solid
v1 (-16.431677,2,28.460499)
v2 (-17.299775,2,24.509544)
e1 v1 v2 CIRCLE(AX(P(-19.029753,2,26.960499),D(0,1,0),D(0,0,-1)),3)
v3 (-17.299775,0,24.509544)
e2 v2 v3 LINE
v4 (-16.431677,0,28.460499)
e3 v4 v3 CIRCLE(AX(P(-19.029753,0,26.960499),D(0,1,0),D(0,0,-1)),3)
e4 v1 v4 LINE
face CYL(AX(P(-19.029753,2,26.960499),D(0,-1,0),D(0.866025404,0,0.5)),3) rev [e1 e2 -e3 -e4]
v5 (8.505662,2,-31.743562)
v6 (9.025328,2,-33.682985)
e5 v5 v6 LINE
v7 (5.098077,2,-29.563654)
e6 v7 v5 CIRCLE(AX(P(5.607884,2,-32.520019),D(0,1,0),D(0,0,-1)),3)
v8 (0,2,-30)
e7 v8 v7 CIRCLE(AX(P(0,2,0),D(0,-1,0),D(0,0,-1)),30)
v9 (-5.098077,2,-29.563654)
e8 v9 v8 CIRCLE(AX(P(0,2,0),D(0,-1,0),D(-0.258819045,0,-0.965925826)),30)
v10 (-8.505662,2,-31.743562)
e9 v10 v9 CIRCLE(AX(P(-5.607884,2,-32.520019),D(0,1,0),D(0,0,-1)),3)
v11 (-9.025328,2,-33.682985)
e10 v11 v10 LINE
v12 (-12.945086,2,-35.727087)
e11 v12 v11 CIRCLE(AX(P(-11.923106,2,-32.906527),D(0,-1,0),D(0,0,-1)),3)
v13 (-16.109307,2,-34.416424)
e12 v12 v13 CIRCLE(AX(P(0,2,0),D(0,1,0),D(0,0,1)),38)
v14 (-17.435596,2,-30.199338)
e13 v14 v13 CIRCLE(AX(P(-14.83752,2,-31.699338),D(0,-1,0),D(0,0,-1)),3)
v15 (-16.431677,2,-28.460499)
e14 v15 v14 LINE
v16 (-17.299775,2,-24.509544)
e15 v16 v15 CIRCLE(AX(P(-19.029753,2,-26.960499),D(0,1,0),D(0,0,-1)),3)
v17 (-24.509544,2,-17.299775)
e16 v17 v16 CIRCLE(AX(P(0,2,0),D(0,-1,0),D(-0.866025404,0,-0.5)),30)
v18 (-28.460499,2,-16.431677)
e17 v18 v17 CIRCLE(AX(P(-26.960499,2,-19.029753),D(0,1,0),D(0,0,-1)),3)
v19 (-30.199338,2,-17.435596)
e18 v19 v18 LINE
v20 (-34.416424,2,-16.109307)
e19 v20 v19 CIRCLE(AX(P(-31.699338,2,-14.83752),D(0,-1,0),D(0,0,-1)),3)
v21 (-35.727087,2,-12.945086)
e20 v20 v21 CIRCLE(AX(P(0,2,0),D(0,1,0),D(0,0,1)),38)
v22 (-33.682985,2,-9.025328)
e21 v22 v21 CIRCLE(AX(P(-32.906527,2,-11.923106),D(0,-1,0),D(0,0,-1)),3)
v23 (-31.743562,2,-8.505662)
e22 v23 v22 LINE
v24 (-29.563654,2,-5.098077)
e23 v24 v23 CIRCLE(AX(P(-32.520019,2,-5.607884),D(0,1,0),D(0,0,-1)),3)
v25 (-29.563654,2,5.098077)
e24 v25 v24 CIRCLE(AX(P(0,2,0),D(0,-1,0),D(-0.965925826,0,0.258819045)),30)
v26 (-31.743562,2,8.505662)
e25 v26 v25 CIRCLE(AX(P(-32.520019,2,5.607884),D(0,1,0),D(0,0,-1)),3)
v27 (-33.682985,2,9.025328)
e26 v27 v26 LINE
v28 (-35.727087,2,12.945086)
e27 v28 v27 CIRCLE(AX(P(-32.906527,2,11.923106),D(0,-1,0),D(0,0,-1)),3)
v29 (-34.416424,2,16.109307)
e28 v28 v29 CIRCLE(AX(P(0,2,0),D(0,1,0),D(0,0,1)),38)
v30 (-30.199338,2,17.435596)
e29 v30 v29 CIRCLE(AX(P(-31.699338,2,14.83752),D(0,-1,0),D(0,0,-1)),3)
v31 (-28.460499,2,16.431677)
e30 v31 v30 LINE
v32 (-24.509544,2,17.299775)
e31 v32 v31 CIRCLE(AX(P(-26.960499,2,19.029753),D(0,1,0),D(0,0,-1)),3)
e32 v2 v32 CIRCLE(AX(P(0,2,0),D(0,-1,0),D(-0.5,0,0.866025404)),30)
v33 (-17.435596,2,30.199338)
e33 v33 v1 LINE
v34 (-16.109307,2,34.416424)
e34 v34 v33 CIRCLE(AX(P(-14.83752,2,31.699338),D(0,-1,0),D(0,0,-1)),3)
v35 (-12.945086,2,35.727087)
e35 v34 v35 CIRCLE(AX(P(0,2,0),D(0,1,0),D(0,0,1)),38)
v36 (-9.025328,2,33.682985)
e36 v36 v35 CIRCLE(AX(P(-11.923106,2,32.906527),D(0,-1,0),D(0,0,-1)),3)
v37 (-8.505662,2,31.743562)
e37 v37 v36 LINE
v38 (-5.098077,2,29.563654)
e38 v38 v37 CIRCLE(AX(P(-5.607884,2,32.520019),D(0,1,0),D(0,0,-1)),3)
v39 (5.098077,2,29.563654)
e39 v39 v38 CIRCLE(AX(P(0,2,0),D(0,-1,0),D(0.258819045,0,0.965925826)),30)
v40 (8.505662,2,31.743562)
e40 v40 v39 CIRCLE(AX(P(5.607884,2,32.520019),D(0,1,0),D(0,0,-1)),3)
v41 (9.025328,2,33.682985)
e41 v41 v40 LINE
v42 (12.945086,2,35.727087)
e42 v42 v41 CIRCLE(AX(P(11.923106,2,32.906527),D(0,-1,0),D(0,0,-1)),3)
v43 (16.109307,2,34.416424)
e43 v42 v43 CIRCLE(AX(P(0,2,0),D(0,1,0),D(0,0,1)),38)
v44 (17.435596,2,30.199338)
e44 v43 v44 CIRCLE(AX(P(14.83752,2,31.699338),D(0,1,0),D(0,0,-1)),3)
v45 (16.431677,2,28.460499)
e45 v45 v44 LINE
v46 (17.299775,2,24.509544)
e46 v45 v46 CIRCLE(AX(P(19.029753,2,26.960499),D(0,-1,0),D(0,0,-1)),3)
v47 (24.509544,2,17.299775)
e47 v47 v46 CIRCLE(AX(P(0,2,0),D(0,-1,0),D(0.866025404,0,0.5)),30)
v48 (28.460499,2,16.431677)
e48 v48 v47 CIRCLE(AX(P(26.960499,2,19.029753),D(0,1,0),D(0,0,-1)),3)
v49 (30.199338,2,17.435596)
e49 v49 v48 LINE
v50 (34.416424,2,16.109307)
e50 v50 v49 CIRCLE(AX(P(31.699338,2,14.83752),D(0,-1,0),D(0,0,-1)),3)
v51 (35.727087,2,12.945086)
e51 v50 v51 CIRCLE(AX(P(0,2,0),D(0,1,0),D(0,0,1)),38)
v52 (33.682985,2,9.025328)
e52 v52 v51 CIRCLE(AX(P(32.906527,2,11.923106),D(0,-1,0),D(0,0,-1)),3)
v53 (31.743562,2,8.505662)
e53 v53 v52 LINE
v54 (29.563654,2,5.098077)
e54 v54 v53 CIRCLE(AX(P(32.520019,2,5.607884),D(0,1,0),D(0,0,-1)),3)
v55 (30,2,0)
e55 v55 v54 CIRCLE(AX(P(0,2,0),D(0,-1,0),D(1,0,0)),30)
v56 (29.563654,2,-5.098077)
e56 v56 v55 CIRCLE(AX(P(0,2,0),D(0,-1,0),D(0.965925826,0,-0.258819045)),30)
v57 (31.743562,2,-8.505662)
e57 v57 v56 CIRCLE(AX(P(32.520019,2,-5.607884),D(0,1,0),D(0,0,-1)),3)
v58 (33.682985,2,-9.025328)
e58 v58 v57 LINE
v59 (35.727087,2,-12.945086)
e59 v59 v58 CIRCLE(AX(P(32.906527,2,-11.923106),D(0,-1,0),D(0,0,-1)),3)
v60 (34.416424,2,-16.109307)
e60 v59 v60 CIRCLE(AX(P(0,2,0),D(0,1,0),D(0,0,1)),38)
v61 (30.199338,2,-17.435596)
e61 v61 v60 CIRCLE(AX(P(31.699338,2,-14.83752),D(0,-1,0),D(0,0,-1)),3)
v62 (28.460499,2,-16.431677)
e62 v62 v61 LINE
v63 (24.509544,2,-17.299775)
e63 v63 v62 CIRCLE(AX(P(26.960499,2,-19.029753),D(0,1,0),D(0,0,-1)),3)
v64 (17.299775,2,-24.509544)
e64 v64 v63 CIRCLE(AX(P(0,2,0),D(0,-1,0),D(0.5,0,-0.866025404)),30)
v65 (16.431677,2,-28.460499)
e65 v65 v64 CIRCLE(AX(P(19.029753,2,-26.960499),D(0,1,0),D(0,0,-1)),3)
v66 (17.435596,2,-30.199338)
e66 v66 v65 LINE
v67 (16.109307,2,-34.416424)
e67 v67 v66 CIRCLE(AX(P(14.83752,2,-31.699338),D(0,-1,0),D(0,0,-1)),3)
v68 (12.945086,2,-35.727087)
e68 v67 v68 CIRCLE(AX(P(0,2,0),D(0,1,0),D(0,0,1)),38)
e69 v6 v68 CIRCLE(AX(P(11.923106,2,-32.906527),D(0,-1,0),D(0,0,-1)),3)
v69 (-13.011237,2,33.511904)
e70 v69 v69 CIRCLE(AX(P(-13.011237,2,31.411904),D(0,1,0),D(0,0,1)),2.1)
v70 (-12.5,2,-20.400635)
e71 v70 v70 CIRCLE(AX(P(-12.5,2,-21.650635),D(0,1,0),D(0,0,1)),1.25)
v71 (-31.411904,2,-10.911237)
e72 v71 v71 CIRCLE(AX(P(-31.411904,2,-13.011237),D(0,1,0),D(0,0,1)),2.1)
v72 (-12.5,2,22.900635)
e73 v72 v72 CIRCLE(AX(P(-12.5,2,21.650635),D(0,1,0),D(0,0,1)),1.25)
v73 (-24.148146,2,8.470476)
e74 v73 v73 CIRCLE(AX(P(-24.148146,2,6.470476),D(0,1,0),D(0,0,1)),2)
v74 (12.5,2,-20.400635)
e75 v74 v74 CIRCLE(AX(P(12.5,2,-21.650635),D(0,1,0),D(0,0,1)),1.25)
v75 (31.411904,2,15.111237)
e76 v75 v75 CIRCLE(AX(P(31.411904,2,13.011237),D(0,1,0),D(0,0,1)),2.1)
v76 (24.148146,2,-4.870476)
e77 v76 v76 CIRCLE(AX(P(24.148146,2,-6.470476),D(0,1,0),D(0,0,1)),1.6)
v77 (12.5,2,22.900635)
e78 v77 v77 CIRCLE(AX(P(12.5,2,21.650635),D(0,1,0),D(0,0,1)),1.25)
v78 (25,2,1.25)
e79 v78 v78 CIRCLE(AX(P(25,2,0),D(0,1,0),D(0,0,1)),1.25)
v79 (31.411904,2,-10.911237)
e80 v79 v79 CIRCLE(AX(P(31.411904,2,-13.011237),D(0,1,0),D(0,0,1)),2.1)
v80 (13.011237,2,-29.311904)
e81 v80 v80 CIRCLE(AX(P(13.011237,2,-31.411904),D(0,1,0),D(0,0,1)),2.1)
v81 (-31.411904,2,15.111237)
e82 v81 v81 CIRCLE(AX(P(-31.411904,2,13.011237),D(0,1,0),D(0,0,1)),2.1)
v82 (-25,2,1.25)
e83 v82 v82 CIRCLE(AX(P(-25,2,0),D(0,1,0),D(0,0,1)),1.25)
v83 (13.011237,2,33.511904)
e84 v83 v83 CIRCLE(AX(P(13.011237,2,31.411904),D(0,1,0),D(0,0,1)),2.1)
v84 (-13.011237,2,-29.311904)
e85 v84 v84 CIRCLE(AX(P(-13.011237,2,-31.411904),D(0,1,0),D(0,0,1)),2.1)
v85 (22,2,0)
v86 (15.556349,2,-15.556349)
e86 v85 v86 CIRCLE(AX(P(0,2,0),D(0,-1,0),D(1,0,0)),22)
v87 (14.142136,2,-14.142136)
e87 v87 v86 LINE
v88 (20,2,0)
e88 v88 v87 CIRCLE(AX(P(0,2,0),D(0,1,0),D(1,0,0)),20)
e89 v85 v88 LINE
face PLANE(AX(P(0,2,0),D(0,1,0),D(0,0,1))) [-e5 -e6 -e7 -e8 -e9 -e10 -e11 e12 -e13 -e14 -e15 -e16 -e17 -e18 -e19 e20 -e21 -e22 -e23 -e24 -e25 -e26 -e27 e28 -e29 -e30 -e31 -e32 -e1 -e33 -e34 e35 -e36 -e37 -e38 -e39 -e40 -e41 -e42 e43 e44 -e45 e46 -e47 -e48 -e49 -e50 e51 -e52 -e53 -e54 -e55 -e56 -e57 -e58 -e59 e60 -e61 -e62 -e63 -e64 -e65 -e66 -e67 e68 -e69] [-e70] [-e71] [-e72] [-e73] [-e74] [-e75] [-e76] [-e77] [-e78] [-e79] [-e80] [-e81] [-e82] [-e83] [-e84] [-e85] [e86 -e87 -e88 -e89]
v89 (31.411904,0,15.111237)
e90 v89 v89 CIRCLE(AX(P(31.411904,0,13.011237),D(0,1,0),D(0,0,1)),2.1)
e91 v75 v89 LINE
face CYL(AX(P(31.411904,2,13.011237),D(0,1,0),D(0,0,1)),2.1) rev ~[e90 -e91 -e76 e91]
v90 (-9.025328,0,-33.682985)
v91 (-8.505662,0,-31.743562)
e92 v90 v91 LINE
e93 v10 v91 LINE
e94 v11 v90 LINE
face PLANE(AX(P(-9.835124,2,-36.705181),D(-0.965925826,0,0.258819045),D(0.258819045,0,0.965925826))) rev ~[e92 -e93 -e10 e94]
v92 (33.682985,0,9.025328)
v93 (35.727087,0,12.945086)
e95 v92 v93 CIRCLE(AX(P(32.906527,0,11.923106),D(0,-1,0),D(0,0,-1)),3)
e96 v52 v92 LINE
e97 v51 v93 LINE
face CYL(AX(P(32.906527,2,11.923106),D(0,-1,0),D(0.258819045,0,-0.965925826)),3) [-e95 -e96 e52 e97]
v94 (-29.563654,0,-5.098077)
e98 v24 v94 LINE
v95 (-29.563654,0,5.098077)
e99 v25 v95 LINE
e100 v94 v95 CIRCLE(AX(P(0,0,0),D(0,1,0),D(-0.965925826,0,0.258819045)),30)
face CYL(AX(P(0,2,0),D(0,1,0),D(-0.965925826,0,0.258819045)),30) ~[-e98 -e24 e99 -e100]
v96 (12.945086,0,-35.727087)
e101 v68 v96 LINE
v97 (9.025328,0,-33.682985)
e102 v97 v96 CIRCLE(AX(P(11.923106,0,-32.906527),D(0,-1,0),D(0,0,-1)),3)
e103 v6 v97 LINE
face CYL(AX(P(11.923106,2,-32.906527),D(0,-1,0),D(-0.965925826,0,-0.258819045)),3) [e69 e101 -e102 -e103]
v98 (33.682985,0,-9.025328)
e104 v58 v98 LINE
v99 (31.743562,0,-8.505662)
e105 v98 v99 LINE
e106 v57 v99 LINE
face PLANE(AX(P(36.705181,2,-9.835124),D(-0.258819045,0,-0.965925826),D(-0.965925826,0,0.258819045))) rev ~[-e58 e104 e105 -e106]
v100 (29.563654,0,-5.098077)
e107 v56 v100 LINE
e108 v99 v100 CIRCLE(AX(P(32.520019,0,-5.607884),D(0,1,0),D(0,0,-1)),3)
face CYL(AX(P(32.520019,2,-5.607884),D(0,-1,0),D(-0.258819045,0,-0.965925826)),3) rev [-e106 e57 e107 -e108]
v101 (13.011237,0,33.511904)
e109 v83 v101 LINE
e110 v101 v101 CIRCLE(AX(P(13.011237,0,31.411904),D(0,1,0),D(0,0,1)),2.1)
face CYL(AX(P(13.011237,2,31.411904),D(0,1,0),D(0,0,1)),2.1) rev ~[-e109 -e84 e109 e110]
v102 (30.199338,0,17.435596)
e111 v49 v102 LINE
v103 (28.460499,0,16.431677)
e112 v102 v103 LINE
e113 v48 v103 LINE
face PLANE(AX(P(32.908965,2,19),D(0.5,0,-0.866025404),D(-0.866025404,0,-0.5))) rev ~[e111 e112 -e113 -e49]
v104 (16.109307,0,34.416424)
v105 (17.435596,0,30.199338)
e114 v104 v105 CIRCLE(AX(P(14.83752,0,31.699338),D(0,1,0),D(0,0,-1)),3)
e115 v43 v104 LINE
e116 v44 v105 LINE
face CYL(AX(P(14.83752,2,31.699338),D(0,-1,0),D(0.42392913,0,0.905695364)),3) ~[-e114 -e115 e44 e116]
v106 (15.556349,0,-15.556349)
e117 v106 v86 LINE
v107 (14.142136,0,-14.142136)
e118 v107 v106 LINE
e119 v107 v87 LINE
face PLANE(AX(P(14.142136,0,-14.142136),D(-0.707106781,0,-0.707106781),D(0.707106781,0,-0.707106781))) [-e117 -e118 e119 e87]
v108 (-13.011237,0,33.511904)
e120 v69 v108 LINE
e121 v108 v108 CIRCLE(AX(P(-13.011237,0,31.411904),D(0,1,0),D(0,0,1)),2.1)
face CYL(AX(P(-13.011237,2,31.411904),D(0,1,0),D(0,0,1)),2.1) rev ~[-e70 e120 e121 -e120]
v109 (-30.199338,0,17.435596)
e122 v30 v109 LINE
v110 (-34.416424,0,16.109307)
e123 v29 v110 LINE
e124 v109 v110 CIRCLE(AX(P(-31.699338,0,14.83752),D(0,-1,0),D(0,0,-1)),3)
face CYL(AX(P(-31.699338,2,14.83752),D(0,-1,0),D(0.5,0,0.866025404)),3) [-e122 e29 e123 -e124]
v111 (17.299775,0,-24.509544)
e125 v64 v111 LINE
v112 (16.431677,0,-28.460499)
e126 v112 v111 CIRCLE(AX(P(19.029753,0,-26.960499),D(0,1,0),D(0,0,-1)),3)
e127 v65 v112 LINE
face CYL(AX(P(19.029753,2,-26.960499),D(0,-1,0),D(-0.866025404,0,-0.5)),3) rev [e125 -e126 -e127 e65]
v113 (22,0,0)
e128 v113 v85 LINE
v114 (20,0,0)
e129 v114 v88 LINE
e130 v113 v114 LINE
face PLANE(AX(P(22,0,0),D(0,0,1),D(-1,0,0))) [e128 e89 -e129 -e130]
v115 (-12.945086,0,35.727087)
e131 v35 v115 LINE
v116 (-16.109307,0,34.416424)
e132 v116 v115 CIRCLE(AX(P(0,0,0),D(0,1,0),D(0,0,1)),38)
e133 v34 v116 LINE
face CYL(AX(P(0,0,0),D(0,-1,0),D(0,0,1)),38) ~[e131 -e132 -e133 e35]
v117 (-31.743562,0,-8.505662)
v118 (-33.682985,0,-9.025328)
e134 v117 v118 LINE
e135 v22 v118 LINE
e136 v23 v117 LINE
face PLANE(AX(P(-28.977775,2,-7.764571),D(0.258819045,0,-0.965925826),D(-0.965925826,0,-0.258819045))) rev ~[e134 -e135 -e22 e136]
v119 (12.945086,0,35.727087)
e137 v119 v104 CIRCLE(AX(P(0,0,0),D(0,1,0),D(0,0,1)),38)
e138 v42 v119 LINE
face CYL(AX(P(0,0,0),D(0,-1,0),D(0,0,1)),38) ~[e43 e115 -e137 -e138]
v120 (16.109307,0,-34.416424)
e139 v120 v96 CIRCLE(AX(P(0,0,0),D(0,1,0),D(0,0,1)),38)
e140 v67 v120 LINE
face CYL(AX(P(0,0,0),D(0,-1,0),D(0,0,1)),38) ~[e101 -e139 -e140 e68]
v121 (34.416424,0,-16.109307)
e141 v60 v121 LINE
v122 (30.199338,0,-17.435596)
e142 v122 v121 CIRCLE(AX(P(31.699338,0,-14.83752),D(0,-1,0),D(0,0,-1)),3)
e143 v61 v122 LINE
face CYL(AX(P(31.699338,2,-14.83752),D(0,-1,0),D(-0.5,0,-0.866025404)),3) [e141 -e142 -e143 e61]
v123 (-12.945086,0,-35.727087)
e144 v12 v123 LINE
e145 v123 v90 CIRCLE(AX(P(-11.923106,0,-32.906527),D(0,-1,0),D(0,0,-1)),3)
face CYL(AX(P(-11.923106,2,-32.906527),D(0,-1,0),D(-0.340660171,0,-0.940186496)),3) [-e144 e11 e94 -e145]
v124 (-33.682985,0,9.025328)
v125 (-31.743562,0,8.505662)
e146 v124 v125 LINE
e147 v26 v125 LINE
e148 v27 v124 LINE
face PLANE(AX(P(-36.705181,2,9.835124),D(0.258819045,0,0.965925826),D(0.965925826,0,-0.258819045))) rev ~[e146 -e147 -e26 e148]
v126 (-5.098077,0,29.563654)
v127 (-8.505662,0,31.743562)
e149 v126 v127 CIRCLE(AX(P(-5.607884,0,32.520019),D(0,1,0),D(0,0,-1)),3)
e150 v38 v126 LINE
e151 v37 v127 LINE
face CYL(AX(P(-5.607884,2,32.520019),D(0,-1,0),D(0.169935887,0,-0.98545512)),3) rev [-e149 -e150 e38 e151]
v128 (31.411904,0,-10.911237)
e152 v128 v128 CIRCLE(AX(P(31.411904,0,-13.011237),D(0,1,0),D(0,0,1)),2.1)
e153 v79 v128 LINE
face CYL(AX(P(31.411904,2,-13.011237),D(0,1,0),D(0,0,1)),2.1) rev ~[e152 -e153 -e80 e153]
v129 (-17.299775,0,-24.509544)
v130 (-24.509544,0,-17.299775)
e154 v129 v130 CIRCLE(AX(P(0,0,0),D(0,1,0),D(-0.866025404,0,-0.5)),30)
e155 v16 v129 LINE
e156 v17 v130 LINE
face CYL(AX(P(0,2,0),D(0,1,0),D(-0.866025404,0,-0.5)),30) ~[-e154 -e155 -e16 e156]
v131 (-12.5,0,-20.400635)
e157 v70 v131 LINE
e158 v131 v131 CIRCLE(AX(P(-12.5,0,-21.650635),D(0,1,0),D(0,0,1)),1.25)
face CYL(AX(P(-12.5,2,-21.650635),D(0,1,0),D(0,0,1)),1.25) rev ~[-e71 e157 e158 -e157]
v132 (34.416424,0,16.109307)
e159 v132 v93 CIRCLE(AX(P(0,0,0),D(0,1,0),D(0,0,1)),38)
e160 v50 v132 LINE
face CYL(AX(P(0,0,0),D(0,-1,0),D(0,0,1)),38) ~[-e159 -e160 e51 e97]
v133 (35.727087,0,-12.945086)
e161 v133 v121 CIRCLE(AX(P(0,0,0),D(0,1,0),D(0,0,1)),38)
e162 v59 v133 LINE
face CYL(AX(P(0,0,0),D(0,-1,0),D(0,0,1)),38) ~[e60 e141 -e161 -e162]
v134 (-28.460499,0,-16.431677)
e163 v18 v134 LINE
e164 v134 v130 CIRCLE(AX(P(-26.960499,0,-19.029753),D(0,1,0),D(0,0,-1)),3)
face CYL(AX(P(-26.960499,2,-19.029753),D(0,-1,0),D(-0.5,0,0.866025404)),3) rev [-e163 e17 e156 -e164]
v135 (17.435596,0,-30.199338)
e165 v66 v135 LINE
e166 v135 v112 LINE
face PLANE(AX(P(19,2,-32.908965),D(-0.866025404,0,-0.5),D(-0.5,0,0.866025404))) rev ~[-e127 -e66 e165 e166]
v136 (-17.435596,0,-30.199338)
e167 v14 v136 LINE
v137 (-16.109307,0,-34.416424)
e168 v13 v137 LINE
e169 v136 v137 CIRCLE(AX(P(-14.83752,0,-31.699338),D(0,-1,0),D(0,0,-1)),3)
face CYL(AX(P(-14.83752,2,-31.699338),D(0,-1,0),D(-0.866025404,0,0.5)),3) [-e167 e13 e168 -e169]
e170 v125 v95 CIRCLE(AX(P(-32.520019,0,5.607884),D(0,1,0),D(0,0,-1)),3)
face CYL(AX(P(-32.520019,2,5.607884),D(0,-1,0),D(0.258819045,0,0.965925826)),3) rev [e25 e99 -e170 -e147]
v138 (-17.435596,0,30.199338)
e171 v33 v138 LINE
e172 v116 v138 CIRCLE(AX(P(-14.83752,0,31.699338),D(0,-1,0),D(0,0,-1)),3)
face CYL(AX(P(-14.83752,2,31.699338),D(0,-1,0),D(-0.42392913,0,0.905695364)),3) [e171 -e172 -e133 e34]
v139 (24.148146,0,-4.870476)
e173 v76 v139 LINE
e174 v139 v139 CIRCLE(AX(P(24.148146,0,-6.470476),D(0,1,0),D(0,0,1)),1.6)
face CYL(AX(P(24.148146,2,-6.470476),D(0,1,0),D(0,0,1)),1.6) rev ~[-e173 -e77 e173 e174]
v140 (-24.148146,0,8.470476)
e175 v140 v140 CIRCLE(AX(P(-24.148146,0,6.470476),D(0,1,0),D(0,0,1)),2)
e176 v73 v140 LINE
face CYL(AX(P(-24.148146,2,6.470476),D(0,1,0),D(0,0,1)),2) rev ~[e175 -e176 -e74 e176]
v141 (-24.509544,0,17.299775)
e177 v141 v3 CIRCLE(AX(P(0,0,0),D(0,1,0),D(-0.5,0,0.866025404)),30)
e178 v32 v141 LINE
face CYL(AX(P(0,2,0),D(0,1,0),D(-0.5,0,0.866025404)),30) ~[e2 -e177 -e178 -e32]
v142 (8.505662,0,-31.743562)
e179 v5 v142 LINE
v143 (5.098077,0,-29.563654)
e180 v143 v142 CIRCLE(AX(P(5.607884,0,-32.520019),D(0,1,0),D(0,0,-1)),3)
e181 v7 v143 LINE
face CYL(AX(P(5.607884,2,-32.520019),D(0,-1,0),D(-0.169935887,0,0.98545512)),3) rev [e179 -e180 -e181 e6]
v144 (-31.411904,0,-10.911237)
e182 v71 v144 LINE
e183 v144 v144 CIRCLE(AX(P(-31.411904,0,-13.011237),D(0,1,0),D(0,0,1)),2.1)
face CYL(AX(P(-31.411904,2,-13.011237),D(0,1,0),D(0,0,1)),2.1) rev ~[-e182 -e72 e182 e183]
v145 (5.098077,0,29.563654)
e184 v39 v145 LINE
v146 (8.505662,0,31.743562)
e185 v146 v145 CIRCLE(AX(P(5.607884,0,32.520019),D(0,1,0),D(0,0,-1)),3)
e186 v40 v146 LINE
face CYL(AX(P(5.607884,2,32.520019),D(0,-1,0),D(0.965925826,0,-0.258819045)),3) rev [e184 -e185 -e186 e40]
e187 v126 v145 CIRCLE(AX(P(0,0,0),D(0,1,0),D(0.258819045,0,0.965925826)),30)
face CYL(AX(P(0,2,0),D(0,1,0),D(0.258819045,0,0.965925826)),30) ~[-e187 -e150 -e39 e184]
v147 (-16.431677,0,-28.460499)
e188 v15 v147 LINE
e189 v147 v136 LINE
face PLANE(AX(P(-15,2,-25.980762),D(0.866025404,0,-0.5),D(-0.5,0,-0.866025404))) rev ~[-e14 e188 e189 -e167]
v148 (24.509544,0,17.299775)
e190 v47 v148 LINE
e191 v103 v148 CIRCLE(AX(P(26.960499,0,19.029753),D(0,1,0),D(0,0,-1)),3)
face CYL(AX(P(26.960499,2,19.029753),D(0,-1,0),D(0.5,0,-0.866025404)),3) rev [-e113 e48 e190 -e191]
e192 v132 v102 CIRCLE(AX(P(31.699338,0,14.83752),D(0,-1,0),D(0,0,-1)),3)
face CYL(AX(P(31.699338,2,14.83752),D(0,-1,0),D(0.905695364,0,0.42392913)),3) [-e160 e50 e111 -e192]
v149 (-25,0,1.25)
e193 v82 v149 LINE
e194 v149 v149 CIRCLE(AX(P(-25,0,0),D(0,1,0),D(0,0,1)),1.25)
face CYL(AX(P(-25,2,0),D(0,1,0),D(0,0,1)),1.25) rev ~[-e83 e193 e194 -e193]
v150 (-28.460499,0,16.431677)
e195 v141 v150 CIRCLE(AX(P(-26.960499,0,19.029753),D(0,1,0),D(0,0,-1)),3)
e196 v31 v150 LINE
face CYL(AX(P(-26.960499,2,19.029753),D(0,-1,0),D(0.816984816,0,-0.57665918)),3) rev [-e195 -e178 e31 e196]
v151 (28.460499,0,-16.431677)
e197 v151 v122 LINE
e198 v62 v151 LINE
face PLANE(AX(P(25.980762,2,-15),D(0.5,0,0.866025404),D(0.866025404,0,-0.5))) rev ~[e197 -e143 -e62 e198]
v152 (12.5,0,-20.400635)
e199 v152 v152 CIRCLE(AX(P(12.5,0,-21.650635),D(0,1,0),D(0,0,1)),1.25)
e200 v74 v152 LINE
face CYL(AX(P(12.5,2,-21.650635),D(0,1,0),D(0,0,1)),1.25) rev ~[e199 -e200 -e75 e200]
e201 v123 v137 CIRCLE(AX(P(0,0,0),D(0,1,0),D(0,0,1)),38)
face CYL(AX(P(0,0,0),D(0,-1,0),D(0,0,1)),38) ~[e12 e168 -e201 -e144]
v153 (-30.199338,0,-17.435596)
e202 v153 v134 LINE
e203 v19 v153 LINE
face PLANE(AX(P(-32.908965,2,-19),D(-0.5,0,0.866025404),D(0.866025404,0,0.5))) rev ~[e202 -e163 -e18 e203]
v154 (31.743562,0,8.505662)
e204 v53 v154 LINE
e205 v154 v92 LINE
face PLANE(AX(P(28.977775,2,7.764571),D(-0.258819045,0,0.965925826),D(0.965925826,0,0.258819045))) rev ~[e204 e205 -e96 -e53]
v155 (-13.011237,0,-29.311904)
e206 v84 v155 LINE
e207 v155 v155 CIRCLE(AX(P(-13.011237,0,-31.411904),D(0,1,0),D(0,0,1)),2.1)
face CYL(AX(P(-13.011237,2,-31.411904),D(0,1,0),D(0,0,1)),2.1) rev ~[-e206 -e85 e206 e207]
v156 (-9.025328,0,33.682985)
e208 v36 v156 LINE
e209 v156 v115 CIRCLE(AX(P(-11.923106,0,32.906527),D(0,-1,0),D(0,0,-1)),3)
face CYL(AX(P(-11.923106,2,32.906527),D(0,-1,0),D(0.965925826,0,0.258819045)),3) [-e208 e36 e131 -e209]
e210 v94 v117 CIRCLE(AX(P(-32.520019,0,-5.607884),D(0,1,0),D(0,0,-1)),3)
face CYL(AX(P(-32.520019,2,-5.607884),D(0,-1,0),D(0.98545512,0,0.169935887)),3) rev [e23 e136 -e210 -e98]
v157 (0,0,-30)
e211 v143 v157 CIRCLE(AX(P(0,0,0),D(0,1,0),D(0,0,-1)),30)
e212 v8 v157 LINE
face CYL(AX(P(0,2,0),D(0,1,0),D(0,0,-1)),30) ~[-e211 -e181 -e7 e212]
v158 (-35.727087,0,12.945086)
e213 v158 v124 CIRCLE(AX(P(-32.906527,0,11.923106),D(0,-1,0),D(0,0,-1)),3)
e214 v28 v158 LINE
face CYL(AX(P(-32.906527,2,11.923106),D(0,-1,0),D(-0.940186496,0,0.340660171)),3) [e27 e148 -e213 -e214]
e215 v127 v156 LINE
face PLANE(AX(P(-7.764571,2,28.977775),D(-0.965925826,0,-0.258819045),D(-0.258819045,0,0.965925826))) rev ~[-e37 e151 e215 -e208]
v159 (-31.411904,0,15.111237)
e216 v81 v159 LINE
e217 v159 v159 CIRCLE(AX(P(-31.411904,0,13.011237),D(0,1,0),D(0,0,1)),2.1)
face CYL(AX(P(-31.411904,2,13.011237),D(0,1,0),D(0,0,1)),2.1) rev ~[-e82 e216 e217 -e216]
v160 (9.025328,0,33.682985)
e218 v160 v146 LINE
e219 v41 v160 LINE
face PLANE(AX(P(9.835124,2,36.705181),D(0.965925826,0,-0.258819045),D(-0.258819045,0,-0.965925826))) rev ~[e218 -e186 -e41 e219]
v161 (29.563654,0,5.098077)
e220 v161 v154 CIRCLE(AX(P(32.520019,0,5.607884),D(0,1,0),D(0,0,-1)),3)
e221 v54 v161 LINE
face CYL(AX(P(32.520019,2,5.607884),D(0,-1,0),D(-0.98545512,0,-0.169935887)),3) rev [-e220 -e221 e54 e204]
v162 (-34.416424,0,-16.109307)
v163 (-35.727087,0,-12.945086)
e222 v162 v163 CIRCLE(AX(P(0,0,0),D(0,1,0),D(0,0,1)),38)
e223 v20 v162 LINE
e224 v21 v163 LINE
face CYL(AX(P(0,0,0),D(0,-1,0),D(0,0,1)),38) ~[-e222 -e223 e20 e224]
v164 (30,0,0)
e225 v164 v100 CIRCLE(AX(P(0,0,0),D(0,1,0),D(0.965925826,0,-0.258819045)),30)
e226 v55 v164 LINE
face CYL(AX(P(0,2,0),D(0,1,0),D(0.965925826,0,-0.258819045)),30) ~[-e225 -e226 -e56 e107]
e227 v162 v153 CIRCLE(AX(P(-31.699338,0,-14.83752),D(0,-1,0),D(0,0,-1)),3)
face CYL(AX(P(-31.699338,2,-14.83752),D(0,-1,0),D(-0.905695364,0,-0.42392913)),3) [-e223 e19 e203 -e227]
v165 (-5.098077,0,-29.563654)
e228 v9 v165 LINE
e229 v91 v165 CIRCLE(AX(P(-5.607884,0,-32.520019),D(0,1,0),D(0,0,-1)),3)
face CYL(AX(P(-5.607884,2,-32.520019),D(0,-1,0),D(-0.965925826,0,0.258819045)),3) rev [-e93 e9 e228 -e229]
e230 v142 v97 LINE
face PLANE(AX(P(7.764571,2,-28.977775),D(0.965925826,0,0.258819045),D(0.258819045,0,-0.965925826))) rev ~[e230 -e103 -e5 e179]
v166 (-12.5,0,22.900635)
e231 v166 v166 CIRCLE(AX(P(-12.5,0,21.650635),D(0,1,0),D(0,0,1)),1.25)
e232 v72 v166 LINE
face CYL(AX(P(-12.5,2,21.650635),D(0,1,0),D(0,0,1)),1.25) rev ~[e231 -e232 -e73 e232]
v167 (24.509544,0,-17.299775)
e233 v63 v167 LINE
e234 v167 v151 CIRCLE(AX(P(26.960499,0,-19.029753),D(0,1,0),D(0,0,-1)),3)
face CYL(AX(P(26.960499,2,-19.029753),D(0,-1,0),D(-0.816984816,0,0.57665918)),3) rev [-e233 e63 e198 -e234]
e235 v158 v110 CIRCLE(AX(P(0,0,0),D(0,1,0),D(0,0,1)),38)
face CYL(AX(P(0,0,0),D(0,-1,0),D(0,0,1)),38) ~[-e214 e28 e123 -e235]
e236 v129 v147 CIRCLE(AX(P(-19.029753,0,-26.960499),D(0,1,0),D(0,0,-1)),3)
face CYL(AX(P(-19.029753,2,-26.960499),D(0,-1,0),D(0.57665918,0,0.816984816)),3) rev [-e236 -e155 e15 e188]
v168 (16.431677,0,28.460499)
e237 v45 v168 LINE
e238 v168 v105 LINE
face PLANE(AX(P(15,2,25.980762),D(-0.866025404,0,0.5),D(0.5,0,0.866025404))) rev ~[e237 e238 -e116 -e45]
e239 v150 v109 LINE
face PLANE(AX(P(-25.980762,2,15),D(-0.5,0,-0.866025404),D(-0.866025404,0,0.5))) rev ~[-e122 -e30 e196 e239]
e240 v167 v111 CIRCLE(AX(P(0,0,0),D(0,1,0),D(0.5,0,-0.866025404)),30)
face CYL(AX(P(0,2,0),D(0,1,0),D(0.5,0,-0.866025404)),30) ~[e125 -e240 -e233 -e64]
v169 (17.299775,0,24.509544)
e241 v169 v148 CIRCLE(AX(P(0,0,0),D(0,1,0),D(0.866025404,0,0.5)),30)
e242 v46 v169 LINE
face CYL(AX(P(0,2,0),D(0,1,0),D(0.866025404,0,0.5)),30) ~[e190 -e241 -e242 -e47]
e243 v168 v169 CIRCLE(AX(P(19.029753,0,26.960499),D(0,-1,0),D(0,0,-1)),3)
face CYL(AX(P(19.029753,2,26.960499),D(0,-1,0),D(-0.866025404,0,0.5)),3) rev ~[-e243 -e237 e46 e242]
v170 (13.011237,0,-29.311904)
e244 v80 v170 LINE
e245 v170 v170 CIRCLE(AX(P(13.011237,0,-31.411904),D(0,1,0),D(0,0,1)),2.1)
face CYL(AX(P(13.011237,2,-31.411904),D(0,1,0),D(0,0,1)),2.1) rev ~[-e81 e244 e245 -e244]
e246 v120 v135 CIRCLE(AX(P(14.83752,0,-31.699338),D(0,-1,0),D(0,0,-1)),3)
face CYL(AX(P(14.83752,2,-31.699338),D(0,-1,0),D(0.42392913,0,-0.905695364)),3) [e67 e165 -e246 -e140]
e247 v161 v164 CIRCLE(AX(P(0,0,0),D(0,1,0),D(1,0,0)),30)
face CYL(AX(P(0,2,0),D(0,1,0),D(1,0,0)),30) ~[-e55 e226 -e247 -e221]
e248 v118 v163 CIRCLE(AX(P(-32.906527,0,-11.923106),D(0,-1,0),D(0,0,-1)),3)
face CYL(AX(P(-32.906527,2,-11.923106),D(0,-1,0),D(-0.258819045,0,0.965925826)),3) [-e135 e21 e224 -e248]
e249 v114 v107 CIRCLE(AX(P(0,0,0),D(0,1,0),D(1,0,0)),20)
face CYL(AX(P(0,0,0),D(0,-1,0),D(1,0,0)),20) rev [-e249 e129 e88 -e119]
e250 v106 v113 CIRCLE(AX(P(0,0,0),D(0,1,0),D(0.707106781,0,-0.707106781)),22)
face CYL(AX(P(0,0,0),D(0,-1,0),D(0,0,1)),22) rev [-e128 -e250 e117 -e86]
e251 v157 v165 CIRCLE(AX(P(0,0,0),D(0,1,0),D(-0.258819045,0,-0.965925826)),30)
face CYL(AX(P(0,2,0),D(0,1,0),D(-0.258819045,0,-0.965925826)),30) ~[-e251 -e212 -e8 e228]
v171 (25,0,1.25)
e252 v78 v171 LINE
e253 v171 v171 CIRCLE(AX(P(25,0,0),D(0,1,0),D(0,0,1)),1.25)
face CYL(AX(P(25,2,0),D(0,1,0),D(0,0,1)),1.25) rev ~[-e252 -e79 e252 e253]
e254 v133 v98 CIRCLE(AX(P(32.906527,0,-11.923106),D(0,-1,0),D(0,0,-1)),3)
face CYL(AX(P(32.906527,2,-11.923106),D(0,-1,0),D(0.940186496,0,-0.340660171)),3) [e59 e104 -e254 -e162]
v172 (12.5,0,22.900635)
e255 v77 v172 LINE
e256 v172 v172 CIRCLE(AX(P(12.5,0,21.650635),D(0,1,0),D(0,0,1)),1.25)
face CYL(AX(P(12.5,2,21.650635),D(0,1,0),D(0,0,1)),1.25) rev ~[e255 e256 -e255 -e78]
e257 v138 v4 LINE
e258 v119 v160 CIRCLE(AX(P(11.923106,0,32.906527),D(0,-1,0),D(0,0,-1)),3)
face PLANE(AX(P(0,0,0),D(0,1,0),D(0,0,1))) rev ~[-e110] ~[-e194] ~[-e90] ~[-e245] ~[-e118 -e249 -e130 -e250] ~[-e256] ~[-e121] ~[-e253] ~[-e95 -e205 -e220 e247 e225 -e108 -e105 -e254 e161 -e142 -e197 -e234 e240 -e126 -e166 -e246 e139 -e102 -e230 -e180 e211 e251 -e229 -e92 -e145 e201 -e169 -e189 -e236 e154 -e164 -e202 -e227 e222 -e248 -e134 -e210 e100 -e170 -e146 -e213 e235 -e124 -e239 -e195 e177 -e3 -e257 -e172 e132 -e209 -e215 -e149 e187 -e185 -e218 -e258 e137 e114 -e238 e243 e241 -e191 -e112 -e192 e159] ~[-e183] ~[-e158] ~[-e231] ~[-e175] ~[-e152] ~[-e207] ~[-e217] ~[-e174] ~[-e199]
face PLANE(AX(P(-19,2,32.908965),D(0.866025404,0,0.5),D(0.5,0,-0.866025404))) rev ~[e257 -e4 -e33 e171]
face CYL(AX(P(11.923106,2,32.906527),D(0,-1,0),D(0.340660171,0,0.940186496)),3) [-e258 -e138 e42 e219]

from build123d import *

# Parameters (mm, degrees)
SKETCH_1_R          = 38
SKETCH_1_R_2        = 22
EXTRUDE_1_DEPTH     = 2
SKETCH_2_R          = 2.1
CUT_EXTRUDE_1_DEPTH = 54.777318639
SKETCH_3_R          = 1.25
CUT_EXTRUDE_2_DEPTH = 54.777318639
SKETCH_5_R          = 1.6
SKETCH_5_R_2        = 2
CUT_EXTRUDE_3_DEPTH = 54.777318639
CUT_EXTRUDE_4_DEPTH = 54.777318639
FILLET_1_R          = 3
EXTRUDE_2_DEPTH     = 2


with BuildPart() as part:
    # 草图1 → 凸台-拉伸1 (new body)
    with BuildSketch(Plane(origin=(0, 0, 0), x_dir=(1, 0, 0), z_dir=(0, 1, 0))):
        with Locations(Location((0, 0, 0), (0, 0, 270))):
            Circle(SKETCH_1_R)
        with Locations(Location((0, 0, 0), (0, 0, 270))):
            Circle(SKETCH_1_R_2, mode=Mode.SUBTRACT)
    extrude(amount=EXTRUDE_1_DEPTH)

    # 草图2 → 切除-拉伸1 (cut, through all)
    with BuildSketch(Plane(origin=(0, 2, 0), x_dir=(1, 0, 0), z_dir=(0, 1, 0))):
        with Locations(Location((13.0112367, 31.411904105, 0), (0, 0, 270))):
            Circle(SKETCH_2_R)
        with Locations(Location((31.411904105, 13.0112367, 0), (0, 0, 270))):
            Circle(SKETCH_2_R)
        with Locations(Location((31.411904105, -13.0112367, 0), (0, 0, 270))):
            Circle(SKETCH_2_R)
        with Locations(Location((13.0112367, -31.411904105, 0), (0, 0, 270))):
            Circle(SKETCH_2_R)
        with Locations(Location((-13.0112367, -31.411904105, 0), (0, 0, 270))):
            Circle(SKETCH_2_R)
        with Locations(Location((-31.411904105, -13.0112367, 0), (0, 0, 270))):
            Circle(SKETCH_2_R)
        with Locations(Location((-31.411904105, 13.0112367, 0), (0, 0, 270))):
            Circle(SKETCH_2_R)
        with Locations(Location((-13.0112367, 31.411904105, 0), (0, 0, 270))):
            Circle(SKETCH_2_R)
    extrude(amount=-CUT_EXTRUDE_1_DEPTH, mode=Mode.SUBTRACT)

    # 草图3 → 切除-拉伸2 (cut, through all)
    with BuildSketch(Plane(origin=(0, 2, 0), x_dir=(1, 0, 0), z_dir=(0, 1, 0))):
        with Locations(Location((12.5, 21.650635095, 0), (0, 0, 270))):
            Circle(SKETCH_3_R)
        with Locations(Location((25, 0, 0), (0, 0, 270))):
            Circle(SKETCH_3_R)
        with Locations(Location((12.5, -21.650635095, 0), (0, 0, 270))):
            Circle(SKETCH_3_R)
        with Locations(Location((-12.5, -21.650635095, 0), (0, 0, 270))):
            Circle(SKETCH_3_R)
        with Locations(Location((-25, 0, 0), (0, 0, 270))):
            Circle(SKETCH_3_R)
        with Locations(Location((-12.5, 21.650635095, 0), (0, 0, 270))):
            Circle(SKETCH_3_R)
    extrude(amount=-CUT_EXTRUDE_2_DEPTH, mode=Mode.SUBTRACT)

    # 草图5 → 切除-拉伸3 (cut, through all)
    with BuildSketch(Plane(origin=(0, 2, 0), x_dir=(1, 0, 0), z_dir=(0, 1, 0))):
        with Locations(Location((24.148145657, 6.470476128, 0), (0, 0, 270))):
            Circle(SKETCH_5_R)
        with Locations(Location((-24.148145657, -6.470476128, 0), (0, 0, 270))):
            Circle(SKETCH_5_R_2)
    extrude(amount=-CUT_EXTRUDE_3_DEPTH, mode=Mode.SUBTRACT)

    # 草图6 → 切除-拉伸4 (cut, through all)
    with BuildSketch(Plane(origin=(0, 2, 0), x_dir=(1, 0, 0), z_dir=(0, 1, 0))):
        with BuildLine():
            Line((-15, 25.980762114), (-19, 32.908965344))
            ThreePointArc((-19, 32.908965344), (-26.870057685, 26.870057685), (-32.908965344, 19))
            Line((-32.908965344, 19), (-25.980762114, 15))
            ThreePointArc((-25.980762114, 15), (-21.213203436, 21.213203436), (-15, 25.980762114))
        make_face()
        with BuildLine():
            ThreePointArc((9.835123714, 36.705181399), (4.959995304, 37.674904732), (0, 38))
            Line((0, 38), (0, 30))
            ThreePointArc((0, 30), (3.915785767, 29.743345841), (7.764571353, 28.977774789))
            Line((7.764571353, 28.977774789), (9.835123714, 36.705181399))
        make_face()
        with BuildLine():
            Line((0, 30), (0, 38))
            ThreePointArc((0, 38), (-4.959995304, 37.674904732), (-9.835123714, 36.705181399))
            Line((-9.835123714, 36.705181399), (-7.764571353, 28.977774789))
            ThreePointArc((-7.764571353, 28.977774789), (-3.915785767, 29.743345841), (0, 30))
        make_face()
        with BuildLine():
            ThreePointArc((32.908965344, 19), (26.870057685, 26.870057685), (19, 32.908965344))
            Line((19, 32.908965344), (15, 25.980762114))
            ThreePointArc((15, 25.980762114), (21.213203436, 21.213203436), (25.980762114, 15))
            Line((25.980762114, 15), (32.908965344, 19))
        make_face()
        with BuildLine():
            Line((36.705181399, 9.835123714), (28.977774789, 7.764571353))
            ThreePointArc((28.977774789, 7.764571353), (29.743345841, 3.915785767), (30, 0))
            ThreePointArc((30, 0), (29.743345841, -3.915785767), (28.977774789, -7.764571353))
            Line((28.977774789, -7.764571353), (36.705181399, -9.835123714))
            ThreePointArc((36.705181399, -9.835123714), (37.674904732, -4.959995304), (38, 0))
            ThreePointArc((38, 0), (37.674904732, 4.959995304), (36.705181399, 9.835123714))
        make_face()
        with BuildLine():
            Line((32.908965344, -19), (25.980762114, -15))
            ThreePointArc((25.980762114, -15), (21.213203436, -21.213203436), (15, -25.980762114))
            Line((15, -25.980762114), (19, -32.908965344))
            ThreePointArc((19, -32.908965344), (26.870057685, -26.870057685), (32.908965344, -19))
        make_face()
        with BuildLine():
            Line((9.835123714, -36.705181399), (7.764571353, -28.977774789))
            ThreePointArc((7.764571353, -28.977774789), (0, -30), (-7.764571353, -28.977774789))
            Line((-7.764571353, -28.977774789), (-9.835123714, -36.705181399))
            ThreePointArc((-9.835123714, -36.705181399), (0, -38), (9.835123714, -36.705181399))
        make_face()
        with BuildLine():
            Line((-19, -32.908965344), (-15, -25.980762114))
            ThreePointArc((-15, -25.980762114), (-21.213203436, -21.213203436), (-25.980762114, -15))
            Line((-25.980762114, -15), (-32.908965344, -19))
            ThreePointArc((-32.908965344, -19), (-26.870057685, -26.870057685), (-19, -32.908965344))
        make_face()
        with BuildLine():
            Line((-36.705181399, -9.835123714), (-28.977774789, -7.764571353))
            ThreePointArc((-28.977774789, -7.764571353), (-30, 0), (-28.977774789, 7.764571353))
            Line((-28.977774789, 7.764571353), (-36.705181399, 9.835123714))
            ThreePointArc((-36.705181399, 9.835123714), (-38, 0), (-36.705181399, -9.835123714))
        make_face()
    extrude(amount=-CUT_EXTRUDE_4_DEPTH, mode=Mode.SUBTRACT)

    # 圆角1
    fillet_1_edges = [part.edges().sort_by_distance(p)[0] for p in [
        (-9.835123714, 1, -36.705181399),
        (9.835123714, 1, -36.705181399),
        (7.764571353, 1, -28.977774789),
        (-7.764571353, 1, -28.977774789),
        (25.980762114, 1, -15),
        (15, 1, -25.980762114),
        (19, 1, -32.908965344),
        (32.908965344, 1, -19),
        (28.977774789, 1, 7.764571353),
        (28.977774789, 1, -7.764571353),
        (36.705181399, 1, -9.835123714),
        (36.705181399, 1, 9.835123714),
        (15, 1, 25.980762114),
        (25.980762114, 1, 15),
        (32.908965344, 1, 19),
        (19, 1, 32.908965344),
        (-7.764571353, 1, 28.977774789),
        (7.764571353, 1, 28.977774789),
        (9.835123714, 1, 36.705181399),
        (-9.835123714, 1, 36.705181399),
        (-25.980762114, 1, 15),
        (-15, 1, 25.980762114),
        (-19, 1, 32.908965344),
        (-32.908965344, 1, 19),
        (-28.977774789, 1, -7.764571353),
        (-28.977774789, 1, 7.764571353),
        (-36.705181399, 1, 9.835123714),
        (-36.705181399, 1, -9.835123714),
        (-15, 1, -25.980762114),
        (-25.980762114, 1, -15),
        (-32.908965344, 1, -19),
        (-19, 1, -32.908965344),
    ]]
    fillet(fillet_1_edges, radius=FILLET_1_R)

    # 草图7 → 凸台-拉伸2 (add)
    with BuildSketch(Plane.XZ):
        with BuildLine():
            Line((22, 0), (20, 0))
            ThreePointArc((20, 0), (18.47759065, -7.653668647), (14.142135624, -14.142135624))
            Line((14.142135624, -14.142135624), (15.556349186, -15.556349186))
            ThreePointArc((15.556349186, -15.556349186), (20.325349715, -8.419035512), (22, 0))
        make_face()
    extrude(amount=-EXTRUDE_2_DEPTH)


solid = part.part
